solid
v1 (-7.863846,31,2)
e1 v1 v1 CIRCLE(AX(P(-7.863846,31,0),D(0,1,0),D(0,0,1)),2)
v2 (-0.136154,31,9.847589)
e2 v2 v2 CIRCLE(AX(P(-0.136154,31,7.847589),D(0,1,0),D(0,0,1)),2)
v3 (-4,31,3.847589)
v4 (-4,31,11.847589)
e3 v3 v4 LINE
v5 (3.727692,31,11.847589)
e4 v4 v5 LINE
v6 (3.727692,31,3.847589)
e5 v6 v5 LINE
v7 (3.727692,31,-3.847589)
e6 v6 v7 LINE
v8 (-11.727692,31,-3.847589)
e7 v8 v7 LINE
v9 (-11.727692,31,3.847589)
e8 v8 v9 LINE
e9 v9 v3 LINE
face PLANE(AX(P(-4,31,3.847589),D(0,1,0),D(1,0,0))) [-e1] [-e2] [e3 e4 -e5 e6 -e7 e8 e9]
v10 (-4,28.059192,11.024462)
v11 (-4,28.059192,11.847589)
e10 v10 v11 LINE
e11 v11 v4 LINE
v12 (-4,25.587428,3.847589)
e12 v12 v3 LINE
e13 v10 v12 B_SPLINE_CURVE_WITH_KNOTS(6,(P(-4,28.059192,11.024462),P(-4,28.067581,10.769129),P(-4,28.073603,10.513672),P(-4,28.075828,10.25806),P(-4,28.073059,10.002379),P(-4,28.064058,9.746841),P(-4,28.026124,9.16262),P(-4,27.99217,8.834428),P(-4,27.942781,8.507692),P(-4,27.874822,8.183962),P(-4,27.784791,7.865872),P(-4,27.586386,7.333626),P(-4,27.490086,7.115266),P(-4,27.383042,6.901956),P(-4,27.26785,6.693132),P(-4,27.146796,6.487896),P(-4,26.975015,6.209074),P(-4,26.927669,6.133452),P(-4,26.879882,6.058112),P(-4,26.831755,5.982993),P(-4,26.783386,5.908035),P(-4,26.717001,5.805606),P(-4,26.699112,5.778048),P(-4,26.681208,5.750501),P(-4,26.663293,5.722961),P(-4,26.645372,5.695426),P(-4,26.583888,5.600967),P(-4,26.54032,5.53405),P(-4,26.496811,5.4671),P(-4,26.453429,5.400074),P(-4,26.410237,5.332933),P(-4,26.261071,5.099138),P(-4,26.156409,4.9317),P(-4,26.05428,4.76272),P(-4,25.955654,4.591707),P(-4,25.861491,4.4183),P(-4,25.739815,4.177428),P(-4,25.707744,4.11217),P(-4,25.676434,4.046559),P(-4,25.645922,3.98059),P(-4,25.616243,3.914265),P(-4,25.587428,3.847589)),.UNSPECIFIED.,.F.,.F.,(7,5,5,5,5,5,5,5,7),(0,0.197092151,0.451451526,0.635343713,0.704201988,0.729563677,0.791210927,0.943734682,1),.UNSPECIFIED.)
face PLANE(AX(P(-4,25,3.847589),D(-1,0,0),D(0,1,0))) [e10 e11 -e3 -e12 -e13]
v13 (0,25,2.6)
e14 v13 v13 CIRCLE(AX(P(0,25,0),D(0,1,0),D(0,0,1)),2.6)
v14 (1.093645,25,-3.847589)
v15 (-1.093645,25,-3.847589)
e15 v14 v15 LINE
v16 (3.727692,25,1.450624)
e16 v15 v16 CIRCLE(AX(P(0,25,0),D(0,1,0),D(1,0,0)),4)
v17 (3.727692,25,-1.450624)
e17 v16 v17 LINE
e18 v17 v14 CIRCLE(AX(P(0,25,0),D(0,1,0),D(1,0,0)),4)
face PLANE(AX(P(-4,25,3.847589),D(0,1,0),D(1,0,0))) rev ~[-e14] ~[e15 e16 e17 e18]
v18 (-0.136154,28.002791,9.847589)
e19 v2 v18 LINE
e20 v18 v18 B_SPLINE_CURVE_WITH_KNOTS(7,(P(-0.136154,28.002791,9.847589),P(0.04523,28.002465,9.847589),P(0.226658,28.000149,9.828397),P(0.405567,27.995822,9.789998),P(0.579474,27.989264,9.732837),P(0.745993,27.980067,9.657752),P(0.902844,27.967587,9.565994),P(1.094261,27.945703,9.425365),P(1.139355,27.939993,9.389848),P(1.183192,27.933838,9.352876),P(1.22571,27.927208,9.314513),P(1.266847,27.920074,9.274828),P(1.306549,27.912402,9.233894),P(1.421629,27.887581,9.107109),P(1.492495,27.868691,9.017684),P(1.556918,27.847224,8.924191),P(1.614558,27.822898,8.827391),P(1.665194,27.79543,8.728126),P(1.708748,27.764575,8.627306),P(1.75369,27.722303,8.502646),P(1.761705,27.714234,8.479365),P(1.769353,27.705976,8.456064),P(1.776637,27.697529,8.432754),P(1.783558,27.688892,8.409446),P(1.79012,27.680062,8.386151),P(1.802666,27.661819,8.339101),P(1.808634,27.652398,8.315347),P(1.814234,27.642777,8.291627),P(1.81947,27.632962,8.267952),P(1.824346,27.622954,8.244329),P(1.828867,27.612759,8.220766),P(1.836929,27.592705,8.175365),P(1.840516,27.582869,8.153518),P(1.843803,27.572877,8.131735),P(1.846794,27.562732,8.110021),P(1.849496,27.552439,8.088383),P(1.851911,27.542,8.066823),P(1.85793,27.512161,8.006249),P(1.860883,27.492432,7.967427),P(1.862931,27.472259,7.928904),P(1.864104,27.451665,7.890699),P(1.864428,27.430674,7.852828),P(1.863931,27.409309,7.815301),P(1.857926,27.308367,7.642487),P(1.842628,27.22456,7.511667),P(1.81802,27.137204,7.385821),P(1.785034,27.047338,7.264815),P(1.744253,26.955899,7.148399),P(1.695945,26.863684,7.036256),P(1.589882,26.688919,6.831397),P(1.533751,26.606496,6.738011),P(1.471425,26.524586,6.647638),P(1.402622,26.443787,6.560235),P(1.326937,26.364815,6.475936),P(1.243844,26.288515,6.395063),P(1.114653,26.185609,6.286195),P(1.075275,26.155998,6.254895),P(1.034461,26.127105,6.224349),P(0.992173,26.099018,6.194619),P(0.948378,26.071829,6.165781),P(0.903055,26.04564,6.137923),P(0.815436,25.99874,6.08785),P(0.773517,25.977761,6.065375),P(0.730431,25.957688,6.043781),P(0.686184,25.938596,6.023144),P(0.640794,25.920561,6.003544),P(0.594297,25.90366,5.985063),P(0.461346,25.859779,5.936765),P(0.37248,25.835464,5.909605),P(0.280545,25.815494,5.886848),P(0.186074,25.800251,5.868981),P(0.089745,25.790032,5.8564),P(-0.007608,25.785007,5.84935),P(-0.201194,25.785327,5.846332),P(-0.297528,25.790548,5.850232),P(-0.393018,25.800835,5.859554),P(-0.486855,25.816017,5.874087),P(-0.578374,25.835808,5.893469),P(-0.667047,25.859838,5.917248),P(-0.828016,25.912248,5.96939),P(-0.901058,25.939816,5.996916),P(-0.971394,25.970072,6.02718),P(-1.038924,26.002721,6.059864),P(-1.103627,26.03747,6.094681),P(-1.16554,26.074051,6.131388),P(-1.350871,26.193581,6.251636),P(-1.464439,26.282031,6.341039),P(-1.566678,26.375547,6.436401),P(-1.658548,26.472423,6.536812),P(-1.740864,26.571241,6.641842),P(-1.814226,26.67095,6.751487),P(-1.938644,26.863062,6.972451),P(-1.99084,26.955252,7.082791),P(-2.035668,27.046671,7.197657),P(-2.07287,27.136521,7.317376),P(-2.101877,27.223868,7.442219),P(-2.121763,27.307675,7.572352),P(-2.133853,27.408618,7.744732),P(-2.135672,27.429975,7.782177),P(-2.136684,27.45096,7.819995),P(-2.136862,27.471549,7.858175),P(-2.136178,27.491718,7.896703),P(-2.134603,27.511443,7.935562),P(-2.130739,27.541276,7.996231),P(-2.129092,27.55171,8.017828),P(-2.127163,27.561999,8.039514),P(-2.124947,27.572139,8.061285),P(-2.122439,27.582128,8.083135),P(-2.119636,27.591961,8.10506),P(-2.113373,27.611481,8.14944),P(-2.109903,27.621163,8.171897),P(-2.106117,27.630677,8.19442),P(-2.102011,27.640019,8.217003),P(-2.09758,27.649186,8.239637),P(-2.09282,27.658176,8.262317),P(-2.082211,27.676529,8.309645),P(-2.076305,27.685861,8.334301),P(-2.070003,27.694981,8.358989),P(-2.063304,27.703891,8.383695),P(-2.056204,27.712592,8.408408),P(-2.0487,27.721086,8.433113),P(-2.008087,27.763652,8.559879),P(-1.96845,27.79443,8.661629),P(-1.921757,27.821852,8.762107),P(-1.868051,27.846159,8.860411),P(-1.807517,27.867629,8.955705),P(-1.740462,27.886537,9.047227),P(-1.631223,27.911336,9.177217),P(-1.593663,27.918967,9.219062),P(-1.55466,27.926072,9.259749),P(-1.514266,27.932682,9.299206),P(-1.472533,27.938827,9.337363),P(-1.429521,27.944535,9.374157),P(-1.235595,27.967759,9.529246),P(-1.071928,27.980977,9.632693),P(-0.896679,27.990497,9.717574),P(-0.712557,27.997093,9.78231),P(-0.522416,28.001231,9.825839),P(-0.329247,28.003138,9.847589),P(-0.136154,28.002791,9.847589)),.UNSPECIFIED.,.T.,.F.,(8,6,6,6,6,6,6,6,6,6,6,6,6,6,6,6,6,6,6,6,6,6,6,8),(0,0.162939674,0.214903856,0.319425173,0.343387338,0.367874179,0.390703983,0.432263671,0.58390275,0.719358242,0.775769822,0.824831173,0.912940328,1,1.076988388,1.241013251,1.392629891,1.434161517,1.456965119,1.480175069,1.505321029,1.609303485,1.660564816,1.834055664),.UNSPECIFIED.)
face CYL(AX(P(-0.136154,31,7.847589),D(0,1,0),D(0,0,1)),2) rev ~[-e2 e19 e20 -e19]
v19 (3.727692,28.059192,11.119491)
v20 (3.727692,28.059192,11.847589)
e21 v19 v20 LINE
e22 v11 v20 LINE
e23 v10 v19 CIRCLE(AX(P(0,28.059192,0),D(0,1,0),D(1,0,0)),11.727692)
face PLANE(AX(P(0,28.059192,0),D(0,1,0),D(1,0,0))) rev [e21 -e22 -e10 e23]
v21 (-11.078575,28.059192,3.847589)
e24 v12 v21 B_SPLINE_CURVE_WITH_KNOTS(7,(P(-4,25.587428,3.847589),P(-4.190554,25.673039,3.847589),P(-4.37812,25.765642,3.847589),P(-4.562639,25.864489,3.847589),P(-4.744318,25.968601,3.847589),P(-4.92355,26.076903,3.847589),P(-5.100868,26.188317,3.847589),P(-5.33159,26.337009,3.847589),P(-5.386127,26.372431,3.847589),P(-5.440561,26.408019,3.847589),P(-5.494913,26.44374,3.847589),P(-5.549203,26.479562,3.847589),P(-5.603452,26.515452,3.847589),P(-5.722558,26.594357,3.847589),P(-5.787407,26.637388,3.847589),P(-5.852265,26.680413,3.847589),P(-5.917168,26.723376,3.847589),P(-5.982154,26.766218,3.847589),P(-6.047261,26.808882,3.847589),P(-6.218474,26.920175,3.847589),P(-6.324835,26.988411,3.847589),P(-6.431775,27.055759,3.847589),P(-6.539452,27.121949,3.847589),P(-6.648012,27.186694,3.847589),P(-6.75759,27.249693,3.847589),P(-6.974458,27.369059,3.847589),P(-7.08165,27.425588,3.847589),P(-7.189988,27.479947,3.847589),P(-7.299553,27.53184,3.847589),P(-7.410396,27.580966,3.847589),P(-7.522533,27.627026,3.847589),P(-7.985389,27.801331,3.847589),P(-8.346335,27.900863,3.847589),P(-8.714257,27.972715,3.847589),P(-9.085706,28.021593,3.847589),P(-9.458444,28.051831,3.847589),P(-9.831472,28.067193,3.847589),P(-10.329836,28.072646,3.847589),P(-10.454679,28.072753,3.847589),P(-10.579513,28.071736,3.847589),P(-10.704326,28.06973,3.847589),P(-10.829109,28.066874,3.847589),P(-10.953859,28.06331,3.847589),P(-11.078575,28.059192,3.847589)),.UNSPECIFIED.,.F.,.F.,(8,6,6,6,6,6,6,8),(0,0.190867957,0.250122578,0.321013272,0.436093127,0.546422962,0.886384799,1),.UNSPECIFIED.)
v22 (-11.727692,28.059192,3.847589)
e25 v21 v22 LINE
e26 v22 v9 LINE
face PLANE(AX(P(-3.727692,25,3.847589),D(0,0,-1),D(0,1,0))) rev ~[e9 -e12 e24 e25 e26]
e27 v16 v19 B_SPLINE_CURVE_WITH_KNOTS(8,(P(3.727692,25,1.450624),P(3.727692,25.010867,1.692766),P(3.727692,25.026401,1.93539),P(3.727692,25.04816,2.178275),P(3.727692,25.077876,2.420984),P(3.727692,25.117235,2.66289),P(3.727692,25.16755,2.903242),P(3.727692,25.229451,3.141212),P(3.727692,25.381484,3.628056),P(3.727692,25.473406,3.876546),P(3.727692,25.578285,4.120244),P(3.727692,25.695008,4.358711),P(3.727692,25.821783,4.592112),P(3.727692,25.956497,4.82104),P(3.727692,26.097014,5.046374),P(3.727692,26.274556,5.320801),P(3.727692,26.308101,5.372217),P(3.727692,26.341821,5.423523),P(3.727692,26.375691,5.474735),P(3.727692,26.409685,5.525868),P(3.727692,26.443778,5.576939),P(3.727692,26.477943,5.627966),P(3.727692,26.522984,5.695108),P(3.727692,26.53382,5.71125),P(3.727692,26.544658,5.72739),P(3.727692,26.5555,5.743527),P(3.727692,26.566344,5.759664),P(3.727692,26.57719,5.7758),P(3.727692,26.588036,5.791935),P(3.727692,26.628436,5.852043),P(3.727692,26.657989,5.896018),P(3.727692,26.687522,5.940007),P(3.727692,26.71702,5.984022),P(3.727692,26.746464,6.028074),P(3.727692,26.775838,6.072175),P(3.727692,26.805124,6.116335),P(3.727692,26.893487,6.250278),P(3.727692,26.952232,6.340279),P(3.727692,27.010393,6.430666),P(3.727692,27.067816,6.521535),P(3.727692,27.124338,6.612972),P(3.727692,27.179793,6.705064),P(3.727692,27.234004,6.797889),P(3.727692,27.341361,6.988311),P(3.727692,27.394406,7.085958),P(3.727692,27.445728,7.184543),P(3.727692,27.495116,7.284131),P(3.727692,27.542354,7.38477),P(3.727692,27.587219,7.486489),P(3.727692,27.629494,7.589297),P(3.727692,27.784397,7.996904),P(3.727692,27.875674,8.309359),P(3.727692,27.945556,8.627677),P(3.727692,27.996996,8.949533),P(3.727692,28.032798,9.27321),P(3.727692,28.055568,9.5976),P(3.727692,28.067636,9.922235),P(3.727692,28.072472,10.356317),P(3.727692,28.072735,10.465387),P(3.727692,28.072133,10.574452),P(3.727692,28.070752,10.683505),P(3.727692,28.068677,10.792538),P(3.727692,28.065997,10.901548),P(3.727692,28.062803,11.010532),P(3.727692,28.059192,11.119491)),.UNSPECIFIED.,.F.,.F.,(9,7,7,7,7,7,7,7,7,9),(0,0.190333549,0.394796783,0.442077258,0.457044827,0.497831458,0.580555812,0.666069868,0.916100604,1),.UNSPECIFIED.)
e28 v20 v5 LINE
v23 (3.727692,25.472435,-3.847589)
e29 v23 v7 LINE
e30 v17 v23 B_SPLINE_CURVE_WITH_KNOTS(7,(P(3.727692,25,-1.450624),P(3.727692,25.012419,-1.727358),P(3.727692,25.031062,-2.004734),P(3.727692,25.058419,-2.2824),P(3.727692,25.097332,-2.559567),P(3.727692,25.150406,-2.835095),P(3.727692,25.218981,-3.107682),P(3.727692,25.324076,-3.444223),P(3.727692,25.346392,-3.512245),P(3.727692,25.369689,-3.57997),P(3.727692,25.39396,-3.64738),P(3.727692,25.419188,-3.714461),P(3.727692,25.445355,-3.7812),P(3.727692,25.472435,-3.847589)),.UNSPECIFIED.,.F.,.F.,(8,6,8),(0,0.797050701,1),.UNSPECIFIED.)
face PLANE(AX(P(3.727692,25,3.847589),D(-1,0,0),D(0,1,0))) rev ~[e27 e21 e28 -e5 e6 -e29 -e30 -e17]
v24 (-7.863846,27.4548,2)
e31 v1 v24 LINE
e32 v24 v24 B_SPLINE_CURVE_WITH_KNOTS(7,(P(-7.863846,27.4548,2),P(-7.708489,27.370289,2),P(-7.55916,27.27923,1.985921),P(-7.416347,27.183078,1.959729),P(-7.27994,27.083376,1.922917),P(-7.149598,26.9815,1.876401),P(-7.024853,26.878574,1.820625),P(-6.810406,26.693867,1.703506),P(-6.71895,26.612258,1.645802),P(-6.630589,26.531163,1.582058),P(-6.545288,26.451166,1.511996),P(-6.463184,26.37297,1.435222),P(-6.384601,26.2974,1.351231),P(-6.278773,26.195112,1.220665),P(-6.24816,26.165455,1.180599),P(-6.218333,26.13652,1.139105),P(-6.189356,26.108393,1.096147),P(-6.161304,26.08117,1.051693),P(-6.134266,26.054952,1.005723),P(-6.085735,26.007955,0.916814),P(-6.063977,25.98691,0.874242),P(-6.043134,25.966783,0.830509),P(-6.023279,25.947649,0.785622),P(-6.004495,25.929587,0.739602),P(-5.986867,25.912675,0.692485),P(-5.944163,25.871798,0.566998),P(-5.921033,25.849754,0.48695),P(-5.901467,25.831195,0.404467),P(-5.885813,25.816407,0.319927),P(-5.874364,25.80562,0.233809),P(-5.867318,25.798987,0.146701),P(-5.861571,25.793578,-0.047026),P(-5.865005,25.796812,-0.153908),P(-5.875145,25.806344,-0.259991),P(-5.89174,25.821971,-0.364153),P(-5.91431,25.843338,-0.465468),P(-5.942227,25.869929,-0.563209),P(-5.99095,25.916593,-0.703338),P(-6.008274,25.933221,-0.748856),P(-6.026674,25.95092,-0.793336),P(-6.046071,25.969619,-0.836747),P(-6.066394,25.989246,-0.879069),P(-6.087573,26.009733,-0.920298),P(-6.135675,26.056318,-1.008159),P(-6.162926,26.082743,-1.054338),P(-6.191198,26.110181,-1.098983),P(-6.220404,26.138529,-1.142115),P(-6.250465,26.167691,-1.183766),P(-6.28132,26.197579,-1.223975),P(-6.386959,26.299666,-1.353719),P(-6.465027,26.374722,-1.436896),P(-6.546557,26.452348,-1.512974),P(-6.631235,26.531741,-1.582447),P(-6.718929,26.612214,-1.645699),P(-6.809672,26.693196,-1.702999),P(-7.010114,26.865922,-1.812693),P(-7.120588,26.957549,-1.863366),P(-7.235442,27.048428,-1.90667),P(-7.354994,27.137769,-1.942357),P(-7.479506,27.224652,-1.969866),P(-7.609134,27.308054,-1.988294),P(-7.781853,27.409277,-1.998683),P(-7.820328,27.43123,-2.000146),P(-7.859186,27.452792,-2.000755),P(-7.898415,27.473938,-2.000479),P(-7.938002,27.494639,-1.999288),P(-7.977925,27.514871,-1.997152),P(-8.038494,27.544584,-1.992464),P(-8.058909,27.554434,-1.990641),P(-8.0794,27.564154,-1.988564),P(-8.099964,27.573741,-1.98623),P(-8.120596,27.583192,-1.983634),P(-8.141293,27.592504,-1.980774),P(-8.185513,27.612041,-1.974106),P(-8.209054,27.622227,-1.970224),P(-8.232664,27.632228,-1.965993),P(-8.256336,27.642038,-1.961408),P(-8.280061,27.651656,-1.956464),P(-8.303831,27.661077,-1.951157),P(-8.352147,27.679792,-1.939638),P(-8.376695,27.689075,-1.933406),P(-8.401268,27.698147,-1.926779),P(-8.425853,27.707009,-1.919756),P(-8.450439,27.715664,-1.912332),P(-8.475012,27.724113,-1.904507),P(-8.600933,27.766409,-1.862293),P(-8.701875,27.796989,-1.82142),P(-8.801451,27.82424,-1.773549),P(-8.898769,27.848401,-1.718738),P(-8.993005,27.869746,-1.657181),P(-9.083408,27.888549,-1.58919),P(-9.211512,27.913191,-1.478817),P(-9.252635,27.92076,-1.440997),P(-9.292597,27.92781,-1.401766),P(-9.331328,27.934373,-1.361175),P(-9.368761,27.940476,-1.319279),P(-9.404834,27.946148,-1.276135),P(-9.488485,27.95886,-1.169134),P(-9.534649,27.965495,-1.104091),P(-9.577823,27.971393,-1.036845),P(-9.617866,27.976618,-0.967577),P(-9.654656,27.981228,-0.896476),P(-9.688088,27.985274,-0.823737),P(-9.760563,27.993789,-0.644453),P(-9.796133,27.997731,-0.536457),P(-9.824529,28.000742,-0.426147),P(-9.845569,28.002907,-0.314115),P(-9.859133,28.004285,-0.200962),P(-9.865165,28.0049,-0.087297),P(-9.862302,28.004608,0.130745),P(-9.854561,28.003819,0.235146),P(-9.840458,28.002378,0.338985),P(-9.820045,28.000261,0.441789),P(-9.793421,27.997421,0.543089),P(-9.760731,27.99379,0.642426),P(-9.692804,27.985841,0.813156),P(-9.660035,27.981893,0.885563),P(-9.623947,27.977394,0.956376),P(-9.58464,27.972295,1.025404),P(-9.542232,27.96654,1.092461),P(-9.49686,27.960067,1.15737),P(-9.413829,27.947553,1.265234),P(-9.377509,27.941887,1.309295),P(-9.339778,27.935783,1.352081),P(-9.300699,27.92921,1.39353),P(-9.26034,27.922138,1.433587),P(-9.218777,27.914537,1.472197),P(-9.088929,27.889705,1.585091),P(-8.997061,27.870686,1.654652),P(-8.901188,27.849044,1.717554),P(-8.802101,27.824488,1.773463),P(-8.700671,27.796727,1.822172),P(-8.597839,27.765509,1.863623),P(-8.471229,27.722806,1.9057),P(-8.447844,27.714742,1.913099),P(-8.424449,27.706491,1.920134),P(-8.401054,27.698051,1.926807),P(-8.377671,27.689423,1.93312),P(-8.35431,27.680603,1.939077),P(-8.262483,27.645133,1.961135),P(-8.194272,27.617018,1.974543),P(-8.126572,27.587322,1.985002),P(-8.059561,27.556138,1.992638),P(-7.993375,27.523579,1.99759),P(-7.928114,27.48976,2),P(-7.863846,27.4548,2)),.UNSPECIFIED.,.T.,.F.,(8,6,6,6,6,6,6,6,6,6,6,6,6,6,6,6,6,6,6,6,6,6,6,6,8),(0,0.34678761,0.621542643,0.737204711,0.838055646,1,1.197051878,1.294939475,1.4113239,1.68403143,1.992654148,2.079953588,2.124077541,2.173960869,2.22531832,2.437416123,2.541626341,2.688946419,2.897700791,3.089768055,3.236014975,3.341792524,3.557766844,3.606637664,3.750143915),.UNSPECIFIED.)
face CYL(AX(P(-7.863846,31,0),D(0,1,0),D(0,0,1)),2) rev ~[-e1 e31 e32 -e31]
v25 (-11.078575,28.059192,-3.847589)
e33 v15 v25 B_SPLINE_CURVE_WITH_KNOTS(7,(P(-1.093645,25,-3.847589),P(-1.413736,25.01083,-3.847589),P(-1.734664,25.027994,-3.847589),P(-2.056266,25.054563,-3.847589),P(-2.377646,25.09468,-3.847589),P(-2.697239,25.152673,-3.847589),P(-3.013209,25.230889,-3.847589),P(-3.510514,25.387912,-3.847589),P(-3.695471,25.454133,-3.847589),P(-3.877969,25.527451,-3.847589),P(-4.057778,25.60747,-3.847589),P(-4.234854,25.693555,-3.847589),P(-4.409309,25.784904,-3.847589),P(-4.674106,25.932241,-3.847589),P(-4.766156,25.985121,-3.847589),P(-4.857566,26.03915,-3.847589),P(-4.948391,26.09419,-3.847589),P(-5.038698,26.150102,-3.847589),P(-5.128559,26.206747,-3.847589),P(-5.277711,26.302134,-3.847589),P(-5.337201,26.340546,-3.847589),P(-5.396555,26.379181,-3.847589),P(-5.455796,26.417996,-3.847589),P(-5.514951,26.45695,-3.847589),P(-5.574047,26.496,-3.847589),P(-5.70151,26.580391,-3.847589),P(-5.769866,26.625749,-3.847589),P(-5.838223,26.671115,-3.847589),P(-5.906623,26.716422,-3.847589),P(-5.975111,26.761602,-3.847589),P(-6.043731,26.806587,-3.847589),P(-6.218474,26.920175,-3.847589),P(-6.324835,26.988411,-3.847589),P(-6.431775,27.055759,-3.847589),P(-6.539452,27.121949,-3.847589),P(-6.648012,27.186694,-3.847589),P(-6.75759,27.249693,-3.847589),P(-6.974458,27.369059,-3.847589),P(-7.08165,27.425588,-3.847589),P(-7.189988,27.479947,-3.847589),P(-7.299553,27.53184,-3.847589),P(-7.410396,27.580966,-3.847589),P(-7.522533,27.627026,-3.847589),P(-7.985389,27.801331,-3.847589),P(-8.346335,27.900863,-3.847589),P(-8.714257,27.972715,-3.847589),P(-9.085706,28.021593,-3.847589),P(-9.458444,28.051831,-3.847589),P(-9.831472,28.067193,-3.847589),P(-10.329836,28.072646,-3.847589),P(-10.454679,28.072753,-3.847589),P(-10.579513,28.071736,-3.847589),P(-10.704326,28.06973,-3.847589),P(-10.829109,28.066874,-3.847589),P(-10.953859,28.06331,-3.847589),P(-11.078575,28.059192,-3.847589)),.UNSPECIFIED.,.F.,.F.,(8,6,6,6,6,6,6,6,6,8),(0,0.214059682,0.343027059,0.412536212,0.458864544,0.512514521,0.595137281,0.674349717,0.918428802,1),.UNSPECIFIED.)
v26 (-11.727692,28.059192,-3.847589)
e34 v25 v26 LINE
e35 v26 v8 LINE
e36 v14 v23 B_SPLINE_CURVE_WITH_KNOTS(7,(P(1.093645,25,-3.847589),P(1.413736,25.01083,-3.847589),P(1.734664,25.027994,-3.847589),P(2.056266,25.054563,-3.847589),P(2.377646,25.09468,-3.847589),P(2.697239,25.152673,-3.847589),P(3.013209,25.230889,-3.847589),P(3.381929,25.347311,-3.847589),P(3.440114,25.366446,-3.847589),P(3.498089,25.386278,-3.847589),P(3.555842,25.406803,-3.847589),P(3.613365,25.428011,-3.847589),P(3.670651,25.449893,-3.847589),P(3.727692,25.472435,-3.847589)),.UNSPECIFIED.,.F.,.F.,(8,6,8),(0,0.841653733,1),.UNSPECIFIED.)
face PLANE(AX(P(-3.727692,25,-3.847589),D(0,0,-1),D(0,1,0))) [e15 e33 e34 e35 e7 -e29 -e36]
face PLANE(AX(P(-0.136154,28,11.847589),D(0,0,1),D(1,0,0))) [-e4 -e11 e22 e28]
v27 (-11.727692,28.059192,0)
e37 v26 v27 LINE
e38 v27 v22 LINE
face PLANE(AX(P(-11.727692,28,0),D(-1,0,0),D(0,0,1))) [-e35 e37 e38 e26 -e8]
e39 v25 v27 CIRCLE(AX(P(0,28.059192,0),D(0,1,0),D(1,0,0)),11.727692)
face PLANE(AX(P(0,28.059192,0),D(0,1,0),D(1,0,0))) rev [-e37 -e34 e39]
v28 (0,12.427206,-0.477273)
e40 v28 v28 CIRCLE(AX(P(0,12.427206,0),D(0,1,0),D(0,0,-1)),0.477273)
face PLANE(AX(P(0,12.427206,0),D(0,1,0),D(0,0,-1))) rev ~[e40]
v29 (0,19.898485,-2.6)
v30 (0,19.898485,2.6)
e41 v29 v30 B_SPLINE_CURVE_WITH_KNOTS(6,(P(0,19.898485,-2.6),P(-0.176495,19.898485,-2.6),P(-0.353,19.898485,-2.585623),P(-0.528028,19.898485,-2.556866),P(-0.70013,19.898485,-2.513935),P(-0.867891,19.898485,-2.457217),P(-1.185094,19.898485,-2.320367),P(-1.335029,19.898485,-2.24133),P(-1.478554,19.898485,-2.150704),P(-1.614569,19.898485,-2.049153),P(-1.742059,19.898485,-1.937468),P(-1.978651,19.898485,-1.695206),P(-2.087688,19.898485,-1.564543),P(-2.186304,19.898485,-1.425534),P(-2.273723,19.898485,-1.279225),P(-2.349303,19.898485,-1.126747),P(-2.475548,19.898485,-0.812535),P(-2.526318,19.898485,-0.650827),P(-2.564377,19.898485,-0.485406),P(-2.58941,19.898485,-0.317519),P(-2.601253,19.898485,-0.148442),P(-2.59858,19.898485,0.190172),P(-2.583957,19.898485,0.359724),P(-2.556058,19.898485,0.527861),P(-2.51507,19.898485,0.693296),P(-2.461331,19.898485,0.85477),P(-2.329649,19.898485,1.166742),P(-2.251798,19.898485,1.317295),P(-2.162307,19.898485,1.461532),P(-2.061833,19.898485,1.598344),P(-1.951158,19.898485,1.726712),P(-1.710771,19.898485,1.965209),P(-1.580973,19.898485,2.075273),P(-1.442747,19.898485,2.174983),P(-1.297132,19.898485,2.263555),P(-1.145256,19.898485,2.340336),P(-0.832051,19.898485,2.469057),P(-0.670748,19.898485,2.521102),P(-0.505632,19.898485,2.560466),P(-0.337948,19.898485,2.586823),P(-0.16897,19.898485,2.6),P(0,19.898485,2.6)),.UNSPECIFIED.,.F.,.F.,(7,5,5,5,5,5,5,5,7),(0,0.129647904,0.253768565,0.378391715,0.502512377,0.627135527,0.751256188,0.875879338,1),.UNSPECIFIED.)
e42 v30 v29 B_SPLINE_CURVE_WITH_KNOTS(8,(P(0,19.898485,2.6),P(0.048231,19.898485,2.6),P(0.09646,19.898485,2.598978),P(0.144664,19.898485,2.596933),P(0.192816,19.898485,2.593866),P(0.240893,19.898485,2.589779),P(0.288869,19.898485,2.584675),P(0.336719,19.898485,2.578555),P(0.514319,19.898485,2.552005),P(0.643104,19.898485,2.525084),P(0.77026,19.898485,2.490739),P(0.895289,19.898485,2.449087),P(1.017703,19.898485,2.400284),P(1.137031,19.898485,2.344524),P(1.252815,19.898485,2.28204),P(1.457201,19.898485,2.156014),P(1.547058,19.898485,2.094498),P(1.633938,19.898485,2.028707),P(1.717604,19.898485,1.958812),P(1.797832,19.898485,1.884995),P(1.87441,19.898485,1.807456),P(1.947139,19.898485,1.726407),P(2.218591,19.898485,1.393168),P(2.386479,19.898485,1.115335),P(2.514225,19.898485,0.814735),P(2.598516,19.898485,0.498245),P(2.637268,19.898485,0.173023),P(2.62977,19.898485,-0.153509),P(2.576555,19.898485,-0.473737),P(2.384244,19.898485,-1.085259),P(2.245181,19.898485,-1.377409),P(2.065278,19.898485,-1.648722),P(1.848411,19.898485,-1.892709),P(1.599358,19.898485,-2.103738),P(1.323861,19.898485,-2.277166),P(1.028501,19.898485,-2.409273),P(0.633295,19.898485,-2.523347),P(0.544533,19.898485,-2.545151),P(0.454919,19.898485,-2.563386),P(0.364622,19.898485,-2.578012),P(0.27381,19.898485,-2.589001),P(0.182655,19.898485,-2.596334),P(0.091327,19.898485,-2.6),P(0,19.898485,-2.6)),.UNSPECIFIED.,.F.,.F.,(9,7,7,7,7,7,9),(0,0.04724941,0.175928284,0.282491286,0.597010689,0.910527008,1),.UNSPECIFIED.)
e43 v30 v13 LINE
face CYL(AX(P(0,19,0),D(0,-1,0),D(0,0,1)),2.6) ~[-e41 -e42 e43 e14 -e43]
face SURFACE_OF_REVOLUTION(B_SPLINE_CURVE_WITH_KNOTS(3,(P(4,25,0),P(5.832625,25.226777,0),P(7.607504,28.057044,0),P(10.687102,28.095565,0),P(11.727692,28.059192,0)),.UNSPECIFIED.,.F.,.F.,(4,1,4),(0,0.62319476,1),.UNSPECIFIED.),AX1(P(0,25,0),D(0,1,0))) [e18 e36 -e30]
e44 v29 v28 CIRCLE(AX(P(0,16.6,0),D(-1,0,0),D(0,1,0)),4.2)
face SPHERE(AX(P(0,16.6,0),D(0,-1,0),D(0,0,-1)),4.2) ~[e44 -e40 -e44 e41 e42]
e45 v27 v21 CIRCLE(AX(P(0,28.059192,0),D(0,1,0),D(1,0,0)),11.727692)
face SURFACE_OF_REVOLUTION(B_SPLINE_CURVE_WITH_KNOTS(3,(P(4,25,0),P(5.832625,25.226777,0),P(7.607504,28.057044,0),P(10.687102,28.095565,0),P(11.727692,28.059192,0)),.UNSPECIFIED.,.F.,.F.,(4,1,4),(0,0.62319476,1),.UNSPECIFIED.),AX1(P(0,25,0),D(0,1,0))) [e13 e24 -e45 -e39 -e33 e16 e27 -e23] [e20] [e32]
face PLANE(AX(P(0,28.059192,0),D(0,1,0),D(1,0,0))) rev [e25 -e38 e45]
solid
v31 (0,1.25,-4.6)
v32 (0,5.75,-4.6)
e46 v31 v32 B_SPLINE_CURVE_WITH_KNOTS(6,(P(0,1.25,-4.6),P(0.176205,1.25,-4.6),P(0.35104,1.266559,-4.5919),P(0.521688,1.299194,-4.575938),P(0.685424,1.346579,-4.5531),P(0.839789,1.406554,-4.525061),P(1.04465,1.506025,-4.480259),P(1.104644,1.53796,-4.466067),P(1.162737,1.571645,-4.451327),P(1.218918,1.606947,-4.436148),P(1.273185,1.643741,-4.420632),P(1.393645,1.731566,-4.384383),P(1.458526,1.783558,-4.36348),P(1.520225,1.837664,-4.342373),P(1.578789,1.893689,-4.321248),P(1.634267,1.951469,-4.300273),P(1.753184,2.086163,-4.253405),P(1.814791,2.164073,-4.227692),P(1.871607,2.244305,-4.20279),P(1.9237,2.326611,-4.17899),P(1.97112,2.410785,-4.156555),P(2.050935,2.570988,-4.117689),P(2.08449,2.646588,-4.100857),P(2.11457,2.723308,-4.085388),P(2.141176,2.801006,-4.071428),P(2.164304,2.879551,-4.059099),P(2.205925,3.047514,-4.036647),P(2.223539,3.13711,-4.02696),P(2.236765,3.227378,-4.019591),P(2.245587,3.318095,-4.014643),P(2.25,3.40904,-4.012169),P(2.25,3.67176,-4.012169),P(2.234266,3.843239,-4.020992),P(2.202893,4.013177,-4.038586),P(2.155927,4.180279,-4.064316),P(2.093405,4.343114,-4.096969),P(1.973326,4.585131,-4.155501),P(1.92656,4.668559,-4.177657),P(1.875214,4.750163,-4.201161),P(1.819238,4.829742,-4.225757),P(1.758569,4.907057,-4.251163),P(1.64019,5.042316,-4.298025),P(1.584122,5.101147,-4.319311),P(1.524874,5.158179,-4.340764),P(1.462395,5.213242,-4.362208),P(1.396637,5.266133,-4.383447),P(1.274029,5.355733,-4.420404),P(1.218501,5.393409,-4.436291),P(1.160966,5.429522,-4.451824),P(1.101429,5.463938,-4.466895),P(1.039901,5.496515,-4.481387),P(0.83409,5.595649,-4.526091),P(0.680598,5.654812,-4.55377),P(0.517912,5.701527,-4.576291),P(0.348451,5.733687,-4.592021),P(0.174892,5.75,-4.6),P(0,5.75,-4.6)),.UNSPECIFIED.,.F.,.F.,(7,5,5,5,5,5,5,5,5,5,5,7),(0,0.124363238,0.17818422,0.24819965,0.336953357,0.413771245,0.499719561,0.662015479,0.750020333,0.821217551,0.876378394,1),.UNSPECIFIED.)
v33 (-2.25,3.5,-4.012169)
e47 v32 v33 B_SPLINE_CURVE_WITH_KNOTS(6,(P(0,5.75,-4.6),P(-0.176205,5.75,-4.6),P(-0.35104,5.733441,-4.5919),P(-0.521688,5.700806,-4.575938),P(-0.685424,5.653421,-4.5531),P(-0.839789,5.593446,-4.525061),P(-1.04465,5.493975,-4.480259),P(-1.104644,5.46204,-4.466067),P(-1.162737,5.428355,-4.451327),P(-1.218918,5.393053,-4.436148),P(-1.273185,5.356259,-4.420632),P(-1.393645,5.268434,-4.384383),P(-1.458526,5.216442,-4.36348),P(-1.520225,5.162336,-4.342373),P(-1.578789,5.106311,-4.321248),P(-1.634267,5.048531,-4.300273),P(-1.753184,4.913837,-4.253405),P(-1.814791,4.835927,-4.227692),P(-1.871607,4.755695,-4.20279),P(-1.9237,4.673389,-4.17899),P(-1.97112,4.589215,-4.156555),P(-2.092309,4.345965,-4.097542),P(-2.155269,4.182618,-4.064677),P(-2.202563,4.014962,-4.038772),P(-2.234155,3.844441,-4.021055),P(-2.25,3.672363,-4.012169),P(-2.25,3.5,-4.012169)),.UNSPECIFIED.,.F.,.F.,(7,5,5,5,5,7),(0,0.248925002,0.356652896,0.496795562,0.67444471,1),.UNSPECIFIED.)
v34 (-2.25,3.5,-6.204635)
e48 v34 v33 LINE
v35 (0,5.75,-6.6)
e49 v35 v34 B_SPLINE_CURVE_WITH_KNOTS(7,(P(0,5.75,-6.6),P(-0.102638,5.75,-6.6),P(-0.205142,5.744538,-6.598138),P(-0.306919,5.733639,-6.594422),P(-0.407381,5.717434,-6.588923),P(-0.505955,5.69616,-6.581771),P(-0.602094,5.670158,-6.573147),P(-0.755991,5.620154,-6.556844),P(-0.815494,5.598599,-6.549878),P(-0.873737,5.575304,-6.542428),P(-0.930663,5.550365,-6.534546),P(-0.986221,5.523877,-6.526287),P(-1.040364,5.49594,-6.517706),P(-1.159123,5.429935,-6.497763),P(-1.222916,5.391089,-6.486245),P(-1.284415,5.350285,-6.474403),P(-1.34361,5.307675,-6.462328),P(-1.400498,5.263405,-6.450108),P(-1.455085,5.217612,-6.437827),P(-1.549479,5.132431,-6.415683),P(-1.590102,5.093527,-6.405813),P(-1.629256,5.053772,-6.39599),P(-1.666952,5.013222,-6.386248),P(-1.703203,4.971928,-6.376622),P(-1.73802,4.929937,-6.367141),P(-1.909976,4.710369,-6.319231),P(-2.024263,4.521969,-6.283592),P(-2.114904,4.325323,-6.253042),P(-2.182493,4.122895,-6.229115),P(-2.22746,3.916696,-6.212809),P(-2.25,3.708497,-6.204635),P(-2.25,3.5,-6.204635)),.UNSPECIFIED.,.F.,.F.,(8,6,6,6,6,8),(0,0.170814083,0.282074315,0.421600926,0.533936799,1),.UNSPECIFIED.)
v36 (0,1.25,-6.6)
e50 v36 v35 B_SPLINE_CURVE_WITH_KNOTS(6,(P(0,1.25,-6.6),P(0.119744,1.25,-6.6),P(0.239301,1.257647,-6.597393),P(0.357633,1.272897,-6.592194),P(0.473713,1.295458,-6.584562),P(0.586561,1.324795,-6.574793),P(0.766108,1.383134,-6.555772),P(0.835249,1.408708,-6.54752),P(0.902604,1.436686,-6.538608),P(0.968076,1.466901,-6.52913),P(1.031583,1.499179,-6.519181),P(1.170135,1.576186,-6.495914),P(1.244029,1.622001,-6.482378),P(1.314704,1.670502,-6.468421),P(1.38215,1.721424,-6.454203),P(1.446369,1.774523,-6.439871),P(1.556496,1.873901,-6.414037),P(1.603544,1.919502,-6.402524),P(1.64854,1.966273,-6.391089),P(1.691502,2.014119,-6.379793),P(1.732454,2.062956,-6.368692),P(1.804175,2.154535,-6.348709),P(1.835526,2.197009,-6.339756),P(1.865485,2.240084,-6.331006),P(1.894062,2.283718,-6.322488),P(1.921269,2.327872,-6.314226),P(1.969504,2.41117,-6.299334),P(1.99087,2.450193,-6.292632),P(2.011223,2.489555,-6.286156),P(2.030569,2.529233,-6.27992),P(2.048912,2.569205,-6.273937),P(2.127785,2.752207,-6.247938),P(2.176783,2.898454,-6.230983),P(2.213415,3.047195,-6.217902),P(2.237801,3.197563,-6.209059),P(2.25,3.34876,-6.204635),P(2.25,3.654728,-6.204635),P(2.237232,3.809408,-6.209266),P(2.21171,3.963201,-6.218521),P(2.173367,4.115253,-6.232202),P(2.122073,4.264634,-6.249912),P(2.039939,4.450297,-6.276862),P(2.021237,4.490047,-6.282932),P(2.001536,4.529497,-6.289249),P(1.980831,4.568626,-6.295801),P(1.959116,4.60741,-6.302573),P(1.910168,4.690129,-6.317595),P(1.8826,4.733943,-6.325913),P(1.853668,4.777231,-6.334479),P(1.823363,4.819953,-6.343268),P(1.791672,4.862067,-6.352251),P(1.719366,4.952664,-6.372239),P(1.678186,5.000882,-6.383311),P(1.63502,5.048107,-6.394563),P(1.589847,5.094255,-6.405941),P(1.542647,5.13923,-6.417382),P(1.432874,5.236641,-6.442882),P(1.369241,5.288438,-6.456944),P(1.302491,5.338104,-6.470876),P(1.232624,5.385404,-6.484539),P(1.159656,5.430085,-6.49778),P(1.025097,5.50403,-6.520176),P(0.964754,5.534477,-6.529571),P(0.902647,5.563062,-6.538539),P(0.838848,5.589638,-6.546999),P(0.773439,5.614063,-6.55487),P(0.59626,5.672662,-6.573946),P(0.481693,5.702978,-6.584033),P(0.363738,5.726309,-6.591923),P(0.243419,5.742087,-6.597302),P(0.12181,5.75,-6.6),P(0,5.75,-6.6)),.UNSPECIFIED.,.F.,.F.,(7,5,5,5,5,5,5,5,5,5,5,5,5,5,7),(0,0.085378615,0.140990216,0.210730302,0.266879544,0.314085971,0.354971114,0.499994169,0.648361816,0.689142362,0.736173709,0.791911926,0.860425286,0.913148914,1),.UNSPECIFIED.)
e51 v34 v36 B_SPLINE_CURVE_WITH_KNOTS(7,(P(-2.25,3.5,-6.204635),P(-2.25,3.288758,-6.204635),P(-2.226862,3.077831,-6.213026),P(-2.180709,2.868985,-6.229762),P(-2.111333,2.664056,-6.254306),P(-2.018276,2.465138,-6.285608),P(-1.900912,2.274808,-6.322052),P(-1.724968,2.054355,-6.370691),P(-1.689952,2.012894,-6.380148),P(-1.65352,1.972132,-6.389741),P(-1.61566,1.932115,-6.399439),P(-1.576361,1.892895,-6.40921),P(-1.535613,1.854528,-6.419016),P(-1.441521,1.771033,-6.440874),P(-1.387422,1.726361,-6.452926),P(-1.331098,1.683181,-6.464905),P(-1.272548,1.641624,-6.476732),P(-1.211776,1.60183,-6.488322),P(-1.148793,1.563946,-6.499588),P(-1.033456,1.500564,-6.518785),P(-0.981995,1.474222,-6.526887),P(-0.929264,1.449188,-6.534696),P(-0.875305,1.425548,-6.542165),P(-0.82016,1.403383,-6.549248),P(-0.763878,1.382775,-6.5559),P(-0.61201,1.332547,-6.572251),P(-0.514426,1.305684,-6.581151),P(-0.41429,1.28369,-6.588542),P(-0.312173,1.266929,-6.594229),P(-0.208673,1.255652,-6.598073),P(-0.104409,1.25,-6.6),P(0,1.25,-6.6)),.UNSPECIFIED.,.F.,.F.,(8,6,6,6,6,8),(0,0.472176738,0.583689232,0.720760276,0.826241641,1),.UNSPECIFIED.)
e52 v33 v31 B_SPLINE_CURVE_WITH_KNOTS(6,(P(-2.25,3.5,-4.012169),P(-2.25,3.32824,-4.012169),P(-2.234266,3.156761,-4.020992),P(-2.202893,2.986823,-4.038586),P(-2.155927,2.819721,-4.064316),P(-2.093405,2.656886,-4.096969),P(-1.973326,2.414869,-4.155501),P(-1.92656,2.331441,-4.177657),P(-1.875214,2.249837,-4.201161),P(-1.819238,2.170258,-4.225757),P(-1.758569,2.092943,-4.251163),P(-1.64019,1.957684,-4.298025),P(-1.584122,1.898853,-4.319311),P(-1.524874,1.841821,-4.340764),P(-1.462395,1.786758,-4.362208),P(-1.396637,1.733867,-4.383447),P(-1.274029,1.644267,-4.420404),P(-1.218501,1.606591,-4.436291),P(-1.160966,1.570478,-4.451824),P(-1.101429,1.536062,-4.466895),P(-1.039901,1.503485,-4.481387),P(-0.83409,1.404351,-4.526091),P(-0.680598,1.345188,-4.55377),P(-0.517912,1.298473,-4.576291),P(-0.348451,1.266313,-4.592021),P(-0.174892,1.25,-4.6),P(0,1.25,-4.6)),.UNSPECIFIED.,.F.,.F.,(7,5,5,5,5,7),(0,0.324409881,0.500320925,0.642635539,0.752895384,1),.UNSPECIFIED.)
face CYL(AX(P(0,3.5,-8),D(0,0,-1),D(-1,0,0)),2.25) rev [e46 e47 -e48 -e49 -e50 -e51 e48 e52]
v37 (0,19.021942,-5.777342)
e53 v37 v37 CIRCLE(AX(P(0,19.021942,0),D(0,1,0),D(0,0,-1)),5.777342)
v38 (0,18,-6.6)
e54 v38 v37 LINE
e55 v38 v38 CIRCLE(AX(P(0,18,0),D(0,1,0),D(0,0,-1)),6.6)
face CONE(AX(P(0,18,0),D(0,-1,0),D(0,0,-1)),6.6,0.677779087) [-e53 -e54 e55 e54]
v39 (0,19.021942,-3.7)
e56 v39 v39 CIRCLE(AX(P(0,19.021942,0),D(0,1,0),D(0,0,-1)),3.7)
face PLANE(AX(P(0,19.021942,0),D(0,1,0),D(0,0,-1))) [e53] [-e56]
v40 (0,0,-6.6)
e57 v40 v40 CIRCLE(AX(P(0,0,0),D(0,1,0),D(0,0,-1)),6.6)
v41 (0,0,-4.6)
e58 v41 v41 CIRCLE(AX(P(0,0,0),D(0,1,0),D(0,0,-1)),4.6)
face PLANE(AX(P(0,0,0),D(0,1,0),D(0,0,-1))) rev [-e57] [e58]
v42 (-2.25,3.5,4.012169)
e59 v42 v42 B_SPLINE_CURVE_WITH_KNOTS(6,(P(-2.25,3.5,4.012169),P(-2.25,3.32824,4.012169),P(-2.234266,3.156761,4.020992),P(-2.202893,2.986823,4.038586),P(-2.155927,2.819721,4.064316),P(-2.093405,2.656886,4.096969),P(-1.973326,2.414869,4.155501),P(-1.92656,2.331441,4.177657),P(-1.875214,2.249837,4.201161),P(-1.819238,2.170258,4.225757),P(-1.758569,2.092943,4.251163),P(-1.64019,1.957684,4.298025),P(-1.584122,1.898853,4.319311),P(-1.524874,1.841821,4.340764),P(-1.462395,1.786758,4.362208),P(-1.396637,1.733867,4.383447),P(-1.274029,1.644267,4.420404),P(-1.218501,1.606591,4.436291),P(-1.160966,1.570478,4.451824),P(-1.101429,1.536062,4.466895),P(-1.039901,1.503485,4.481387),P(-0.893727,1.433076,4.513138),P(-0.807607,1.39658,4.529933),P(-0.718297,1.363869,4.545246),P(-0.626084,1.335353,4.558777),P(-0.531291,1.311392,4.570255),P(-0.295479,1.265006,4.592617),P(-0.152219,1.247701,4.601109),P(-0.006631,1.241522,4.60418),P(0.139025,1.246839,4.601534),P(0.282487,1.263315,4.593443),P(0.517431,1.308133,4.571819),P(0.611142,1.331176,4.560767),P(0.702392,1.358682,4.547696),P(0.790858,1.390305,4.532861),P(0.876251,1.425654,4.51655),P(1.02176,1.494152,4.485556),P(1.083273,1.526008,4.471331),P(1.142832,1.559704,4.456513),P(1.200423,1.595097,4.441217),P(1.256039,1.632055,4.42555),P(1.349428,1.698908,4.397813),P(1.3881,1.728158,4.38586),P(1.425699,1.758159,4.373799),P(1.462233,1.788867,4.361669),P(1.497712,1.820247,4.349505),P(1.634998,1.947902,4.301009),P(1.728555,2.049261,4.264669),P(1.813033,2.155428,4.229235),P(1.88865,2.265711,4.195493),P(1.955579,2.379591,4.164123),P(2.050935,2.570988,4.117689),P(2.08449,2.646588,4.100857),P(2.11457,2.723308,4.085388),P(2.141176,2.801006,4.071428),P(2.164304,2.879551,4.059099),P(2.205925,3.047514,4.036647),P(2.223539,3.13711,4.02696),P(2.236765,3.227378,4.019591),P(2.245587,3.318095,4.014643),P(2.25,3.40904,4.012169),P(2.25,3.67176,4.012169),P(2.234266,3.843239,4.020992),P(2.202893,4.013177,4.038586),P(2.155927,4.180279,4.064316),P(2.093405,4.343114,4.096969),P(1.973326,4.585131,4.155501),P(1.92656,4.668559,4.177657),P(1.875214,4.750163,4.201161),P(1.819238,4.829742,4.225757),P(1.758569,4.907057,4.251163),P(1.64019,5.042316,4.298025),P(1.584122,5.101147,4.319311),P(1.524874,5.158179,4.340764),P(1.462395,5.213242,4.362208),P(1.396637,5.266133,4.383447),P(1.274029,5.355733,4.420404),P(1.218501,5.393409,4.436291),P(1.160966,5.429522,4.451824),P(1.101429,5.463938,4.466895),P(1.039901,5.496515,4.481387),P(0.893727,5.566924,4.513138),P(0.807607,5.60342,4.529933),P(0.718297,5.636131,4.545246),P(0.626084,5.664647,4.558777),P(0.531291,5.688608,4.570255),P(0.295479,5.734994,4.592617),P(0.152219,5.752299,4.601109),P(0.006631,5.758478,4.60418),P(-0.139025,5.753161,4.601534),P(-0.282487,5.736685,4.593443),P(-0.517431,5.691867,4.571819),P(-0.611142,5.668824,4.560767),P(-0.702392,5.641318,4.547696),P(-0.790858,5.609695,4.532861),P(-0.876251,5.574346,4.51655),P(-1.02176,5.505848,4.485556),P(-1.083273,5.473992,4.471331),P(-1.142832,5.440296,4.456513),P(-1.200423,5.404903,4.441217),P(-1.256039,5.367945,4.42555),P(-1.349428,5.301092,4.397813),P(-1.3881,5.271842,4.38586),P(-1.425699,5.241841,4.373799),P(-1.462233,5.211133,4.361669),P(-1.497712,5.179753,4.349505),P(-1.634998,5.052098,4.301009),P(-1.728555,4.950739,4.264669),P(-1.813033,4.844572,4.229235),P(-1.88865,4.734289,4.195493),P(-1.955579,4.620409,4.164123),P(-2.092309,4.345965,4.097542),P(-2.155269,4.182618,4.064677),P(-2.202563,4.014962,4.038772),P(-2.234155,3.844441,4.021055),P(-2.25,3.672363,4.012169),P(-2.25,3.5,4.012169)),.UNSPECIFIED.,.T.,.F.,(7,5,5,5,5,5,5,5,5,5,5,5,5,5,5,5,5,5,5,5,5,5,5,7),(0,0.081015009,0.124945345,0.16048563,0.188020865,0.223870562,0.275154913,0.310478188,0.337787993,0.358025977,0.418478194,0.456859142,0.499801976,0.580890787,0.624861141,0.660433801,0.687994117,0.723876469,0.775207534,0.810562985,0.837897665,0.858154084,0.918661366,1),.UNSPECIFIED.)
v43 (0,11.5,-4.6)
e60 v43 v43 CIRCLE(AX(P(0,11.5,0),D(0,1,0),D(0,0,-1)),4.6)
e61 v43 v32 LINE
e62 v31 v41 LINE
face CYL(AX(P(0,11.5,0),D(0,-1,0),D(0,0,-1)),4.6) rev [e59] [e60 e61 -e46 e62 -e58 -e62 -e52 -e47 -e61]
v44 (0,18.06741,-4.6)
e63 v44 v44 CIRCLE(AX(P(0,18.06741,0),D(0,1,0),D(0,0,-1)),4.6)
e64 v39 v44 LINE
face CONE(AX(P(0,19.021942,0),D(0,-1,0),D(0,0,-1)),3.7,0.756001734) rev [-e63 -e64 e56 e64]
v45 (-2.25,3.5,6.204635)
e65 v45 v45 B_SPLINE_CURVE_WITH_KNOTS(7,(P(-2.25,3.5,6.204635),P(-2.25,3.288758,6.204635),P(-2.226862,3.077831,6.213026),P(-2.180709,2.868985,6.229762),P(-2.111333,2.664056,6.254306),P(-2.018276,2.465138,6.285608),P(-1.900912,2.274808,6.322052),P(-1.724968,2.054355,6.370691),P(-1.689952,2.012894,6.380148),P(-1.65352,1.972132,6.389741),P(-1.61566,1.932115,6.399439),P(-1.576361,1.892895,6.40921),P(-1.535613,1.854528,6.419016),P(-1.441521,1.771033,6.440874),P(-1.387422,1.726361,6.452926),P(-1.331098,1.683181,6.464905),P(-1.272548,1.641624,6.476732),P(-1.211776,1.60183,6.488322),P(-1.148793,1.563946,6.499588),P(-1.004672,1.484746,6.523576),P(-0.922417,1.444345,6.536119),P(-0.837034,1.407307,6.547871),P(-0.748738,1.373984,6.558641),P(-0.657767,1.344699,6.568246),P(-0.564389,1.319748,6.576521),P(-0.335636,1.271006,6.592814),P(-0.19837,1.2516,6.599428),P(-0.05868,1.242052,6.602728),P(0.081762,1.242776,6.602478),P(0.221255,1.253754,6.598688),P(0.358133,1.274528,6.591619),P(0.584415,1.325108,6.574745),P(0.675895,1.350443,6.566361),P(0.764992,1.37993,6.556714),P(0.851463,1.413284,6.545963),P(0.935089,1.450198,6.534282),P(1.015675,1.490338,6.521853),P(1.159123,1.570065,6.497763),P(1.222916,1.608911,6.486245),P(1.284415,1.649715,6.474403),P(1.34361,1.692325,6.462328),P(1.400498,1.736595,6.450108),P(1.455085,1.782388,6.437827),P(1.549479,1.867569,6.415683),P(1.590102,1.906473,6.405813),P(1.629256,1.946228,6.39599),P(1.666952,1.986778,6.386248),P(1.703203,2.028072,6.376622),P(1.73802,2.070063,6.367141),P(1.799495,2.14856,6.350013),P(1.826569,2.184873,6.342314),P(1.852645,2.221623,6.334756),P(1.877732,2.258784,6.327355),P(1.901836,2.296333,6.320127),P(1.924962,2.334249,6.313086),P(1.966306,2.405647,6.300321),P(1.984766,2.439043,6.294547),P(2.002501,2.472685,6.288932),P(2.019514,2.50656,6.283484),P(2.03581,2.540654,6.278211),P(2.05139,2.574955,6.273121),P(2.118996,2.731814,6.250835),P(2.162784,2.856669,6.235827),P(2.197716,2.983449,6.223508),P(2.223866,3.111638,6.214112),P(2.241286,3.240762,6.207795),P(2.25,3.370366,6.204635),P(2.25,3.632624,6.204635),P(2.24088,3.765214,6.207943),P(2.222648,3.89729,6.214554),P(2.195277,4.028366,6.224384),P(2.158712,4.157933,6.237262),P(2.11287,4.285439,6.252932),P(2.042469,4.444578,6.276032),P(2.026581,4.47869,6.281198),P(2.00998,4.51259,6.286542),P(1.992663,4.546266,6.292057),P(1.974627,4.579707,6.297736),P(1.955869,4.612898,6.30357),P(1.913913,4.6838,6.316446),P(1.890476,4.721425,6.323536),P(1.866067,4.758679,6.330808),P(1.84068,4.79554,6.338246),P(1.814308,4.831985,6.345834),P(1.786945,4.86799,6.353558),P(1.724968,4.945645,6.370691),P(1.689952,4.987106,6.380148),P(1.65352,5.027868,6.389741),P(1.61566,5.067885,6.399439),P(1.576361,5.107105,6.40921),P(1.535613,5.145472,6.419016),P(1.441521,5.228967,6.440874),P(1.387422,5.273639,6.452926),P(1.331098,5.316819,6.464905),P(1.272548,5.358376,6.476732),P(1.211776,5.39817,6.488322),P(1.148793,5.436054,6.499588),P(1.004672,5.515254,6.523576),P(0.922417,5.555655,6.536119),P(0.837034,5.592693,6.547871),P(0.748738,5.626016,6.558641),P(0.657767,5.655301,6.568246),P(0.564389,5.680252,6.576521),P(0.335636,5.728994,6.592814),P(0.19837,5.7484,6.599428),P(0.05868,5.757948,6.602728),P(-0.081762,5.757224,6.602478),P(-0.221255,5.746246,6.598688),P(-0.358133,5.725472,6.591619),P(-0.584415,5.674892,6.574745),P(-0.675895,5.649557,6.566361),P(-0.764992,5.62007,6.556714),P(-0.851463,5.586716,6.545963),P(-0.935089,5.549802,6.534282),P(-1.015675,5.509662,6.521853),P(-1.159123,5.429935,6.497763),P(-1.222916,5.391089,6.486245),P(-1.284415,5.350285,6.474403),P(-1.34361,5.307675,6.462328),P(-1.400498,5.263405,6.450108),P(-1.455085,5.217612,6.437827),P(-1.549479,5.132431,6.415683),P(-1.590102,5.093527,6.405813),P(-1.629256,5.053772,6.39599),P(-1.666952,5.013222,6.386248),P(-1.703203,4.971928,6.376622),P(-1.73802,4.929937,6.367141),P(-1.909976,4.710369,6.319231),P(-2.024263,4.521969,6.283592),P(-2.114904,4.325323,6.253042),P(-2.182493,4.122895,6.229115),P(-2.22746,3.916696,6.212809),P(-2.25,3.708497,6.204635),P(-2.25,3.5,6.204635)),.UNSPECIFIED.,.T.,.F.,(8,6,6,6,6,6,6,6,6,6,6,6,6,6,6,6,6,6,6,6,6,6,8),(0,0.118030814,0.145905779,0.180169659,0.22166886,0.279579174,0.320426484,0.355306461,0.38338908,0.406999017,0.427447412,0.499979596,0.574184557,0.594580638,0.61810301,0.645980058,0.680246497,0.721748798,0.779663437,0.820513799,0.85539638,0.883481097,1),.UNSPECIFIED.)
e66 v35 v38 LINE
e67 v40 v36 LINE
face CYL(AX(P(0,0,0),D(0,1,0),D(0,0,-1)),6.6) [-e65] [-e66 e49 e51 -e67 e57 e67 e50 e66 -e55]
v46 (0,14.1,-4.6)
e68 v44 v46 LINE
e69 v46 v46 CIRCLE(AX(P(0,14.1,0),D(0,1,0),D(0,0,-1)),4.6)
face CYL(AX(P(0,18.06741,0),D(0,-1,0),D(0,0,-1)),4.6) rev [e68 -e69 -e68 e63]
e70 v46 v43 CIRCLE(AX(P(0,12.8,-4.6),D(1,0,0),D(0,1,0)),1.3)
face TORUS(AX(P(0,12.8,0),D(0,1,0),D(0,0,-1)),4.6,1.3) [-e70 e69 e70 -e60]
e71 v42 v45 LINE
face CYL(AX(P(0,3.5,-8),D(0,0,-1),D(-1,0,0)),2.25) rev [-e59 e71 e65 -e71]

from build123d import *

# Parameters (mm, degrees)
SALIENTE_EXTRUIR1_DEPTH      = 2
SALIENTE_EXTRUIR1_DEPTH_BACK = 4
CROQUIS5_R                   = 2.6
CROQUIS6_W                   = 7.455384582
CROQUIS6_H                   = 7.695177654
SALIENTE_EXTRUIR2_DEPTH      = 6
CROQUIS14_W                  = 7.695177654
CROQUIS14_H                  = 6
SALIENTE_EXTRUIR4_DEPTH      = 8
CROQUIS15_W                  = 7.727692291
CROQUIS15_H                  = 6
SALIENTE_EXTRUIR5_DEPTH      = 8
CORTAR_EXTRUIR3_REACH        = 37.198
CROQUIS19_R                  = 2
CROQUIS4_R                   = 2.25
CORTAR_EXTRUIR2_DEPTH        = 23


with BuildPart() as part:
    # Croquis2 → Revolución2 (revolve)
    with BuildSketch(Plane.XY, mode=Mode.PRIVATE) as revoluci_n2_sk:
        with BuildLine():
            Line((4.6, 0), (6.6, 0))
            Line((6.6, 0), (6.6, 18))
            Line((6.6, 18), (5.777341974, 19.021942148))
            Line((5.777341974, 19.021942148), (3.7, 19.021942148))
            Line((3.7, 19.021942148), (4.6, 18.067409811))
            Line((4.6, 18.067409811), (4.6, 14.1))
            ThreePointArc((4.6, 14.1), (3.3, 12.8), (4.6, 11.5))
            Line((4.6, 11.5), (4.6, 0))
        make_face()
        with BuildLine():
            Line((0, 12.427205883), (0, 20.8))
            ThreePointArc((0, 20.8), (4.193193013, 16.839023752), (0.477272727, 12.427205883))
            Line((0.477272727, 12.427205883), (0, 12.427205883))
        make_face()
    revolve(revoluci_n2_sk.sketch.rotate(Axis((0, 12.427205883, 0), (0, 1, 0)), 90), axis=Axis((0, 12.427205883, 0), (0, 1, 0)))

    # Croquis5 → Saliente-Extruir1 (add, two sides: drawn at the far end of the back side and taken through both)
    with BuildSketch(Plane(origin=(0, 23, 0), x_dir=(1, 0, 0), z_dir=(0, 1, 0)).offset(-SALIENTE_EXTRUIR1_DEPTH_BACK)):
        with Locations(Location((0, 0, 0), (0, 0, 270))):
            Circle(CROQUIS5_R)
    extrude(amount=SALIENTE_EXTRUIR1_DEPTH + SALIENTE_EXTRUIR1_DEPTH_BACK)

    # Croquis6 → Saliente-Extruir2 (add)
    with BuildSketch(Plane(origin=(0, 25, 0), x_dir=(1, 0, 0), z_dir=(0, 1, 0))):
        Rectangle(CROQUIS6_W, CROQUIS6_H)
    extrude(amount=SALIENTE_EXTRUIR2_DEPTH)

    # Croquis14 → Saliente-Extruir4 (add)
    with BuildSketch(Plane.ZY.offset(3.727692291)):
        with Locations((0, 28)):
            Rectangle(CROQUIS14_W, CROQUIS14_H)
    extrude(amount=SALIENTE_EXTRUIR4_DEPTH)

    # Croquis15 → Saliente-Extruir5 (add)
    with BuildSketch(Plane.XY.offset(3.847588827)):
        with Locations((-0.136153854, 28)):
            Rectangle(CROQUIS15_W, CROQUIS15_H)
    extrude(amount=SALIENTE_EXTRUIR5_DEPTH)

    # Croquis18 → Cortar-Revolución10 (revolve, cut)
    with BuildSketch(Plane.XY, mode=Mode.PRIVATE) as cortar_revoluci_n10_sk:
        with BuildLine():
            Line((-11.727692291, 28.05919163), (-12.864657385, 28.05919163))
            Line((-12.864657385, 28.05919163), (-12.864657385, 21.834544707))
            Line((-12.864657385, 21.834544707), (-4, 21.967561285))
            Line((-4, 21.967561285), (-4, 25))
            add(Edge.make_bspline(
                [(-4, 25), (-5.832624906, 25.226776739), (-7.607503572, 28.057043883), (-10.687102248, 28.095564604), (-11.727692291, 28.05919163)],
                knots=[0, 0, 0, 0, 0.62319476, 1, 1, 1, 1], degree=3))
        make_face()
    revolve(cortar_revoluci_n10_sk.sketch.rotate(Axis((0, 25, 0), (0, 1, 0)), 180), axis=Axis((0, 25, 0), (0, 1, 0)), mode=Mode.SUBTRACT)

    # Croquis19 → Cortar-Extruir3 (cut, up to next)
    with BuildSketch(Plane(origin=(0, 31, 0), x_dir=(1, 0, 0), z_dir=(0, 1, 0)), mode=Mode.PRIVATE) as cortar_extruir3_sk1:
        with Locations(Location((-7.863846145, 0, 0), (0, 0, 270))):
            Circle(CROQUIS19_R)
    cortar_extruir3_tool1 = extrude(cortar_extruir3_sk1.sketch, amount=-CORTAR_EXTRUIR3_REACH, mode=Mode.PRIVATE) & part.part
    # Croquis19 → Cortar-Extruir3 (cut, up to next)
    with BuildSketch(Plane(origin=(0, 31, 0), x_dir=(1, 0, 0), z_dir=(0, 1, 0)), mode=Mode.PRIVATE) as cortar_extruir3_sk2:
        with Locations(Location((-0.136153855, -7.847588827, 0), (0, 0, 270))):
            Circle(CROQUIS19_R)
    cortar_extruir3_tool2 = extrude(cortar_extruir3_sk2.sketch, amount=-CORTAR_EXTRUIR3_REACH, mode=Mode.PRIVATE) & part.part
    add(cortar_extruir3_tool1.solids().sort_by_distance((-7.863846, 31, 0))[0], mode=Mode.SUBTRACT)
    add(cortar_extruir3_tool2.solids().sort_by_distance((-0.136154, 31, 7.847589))[0], mode=Mode.SUBTRACT)

    # Croquis4 → Cortar-Extruir2 (cut)
    with BuildSketch(Plane.XY.offset(-8)):
        with Locations(Location((0, 3.5, 0), (0, 0, 180))):
            Circle(CROQUIS4_R)
    extrude(amount=CORTAR_EXTRUIR2_DEPTH, mode=Mode.SUBTRACT)


solid = part.part
